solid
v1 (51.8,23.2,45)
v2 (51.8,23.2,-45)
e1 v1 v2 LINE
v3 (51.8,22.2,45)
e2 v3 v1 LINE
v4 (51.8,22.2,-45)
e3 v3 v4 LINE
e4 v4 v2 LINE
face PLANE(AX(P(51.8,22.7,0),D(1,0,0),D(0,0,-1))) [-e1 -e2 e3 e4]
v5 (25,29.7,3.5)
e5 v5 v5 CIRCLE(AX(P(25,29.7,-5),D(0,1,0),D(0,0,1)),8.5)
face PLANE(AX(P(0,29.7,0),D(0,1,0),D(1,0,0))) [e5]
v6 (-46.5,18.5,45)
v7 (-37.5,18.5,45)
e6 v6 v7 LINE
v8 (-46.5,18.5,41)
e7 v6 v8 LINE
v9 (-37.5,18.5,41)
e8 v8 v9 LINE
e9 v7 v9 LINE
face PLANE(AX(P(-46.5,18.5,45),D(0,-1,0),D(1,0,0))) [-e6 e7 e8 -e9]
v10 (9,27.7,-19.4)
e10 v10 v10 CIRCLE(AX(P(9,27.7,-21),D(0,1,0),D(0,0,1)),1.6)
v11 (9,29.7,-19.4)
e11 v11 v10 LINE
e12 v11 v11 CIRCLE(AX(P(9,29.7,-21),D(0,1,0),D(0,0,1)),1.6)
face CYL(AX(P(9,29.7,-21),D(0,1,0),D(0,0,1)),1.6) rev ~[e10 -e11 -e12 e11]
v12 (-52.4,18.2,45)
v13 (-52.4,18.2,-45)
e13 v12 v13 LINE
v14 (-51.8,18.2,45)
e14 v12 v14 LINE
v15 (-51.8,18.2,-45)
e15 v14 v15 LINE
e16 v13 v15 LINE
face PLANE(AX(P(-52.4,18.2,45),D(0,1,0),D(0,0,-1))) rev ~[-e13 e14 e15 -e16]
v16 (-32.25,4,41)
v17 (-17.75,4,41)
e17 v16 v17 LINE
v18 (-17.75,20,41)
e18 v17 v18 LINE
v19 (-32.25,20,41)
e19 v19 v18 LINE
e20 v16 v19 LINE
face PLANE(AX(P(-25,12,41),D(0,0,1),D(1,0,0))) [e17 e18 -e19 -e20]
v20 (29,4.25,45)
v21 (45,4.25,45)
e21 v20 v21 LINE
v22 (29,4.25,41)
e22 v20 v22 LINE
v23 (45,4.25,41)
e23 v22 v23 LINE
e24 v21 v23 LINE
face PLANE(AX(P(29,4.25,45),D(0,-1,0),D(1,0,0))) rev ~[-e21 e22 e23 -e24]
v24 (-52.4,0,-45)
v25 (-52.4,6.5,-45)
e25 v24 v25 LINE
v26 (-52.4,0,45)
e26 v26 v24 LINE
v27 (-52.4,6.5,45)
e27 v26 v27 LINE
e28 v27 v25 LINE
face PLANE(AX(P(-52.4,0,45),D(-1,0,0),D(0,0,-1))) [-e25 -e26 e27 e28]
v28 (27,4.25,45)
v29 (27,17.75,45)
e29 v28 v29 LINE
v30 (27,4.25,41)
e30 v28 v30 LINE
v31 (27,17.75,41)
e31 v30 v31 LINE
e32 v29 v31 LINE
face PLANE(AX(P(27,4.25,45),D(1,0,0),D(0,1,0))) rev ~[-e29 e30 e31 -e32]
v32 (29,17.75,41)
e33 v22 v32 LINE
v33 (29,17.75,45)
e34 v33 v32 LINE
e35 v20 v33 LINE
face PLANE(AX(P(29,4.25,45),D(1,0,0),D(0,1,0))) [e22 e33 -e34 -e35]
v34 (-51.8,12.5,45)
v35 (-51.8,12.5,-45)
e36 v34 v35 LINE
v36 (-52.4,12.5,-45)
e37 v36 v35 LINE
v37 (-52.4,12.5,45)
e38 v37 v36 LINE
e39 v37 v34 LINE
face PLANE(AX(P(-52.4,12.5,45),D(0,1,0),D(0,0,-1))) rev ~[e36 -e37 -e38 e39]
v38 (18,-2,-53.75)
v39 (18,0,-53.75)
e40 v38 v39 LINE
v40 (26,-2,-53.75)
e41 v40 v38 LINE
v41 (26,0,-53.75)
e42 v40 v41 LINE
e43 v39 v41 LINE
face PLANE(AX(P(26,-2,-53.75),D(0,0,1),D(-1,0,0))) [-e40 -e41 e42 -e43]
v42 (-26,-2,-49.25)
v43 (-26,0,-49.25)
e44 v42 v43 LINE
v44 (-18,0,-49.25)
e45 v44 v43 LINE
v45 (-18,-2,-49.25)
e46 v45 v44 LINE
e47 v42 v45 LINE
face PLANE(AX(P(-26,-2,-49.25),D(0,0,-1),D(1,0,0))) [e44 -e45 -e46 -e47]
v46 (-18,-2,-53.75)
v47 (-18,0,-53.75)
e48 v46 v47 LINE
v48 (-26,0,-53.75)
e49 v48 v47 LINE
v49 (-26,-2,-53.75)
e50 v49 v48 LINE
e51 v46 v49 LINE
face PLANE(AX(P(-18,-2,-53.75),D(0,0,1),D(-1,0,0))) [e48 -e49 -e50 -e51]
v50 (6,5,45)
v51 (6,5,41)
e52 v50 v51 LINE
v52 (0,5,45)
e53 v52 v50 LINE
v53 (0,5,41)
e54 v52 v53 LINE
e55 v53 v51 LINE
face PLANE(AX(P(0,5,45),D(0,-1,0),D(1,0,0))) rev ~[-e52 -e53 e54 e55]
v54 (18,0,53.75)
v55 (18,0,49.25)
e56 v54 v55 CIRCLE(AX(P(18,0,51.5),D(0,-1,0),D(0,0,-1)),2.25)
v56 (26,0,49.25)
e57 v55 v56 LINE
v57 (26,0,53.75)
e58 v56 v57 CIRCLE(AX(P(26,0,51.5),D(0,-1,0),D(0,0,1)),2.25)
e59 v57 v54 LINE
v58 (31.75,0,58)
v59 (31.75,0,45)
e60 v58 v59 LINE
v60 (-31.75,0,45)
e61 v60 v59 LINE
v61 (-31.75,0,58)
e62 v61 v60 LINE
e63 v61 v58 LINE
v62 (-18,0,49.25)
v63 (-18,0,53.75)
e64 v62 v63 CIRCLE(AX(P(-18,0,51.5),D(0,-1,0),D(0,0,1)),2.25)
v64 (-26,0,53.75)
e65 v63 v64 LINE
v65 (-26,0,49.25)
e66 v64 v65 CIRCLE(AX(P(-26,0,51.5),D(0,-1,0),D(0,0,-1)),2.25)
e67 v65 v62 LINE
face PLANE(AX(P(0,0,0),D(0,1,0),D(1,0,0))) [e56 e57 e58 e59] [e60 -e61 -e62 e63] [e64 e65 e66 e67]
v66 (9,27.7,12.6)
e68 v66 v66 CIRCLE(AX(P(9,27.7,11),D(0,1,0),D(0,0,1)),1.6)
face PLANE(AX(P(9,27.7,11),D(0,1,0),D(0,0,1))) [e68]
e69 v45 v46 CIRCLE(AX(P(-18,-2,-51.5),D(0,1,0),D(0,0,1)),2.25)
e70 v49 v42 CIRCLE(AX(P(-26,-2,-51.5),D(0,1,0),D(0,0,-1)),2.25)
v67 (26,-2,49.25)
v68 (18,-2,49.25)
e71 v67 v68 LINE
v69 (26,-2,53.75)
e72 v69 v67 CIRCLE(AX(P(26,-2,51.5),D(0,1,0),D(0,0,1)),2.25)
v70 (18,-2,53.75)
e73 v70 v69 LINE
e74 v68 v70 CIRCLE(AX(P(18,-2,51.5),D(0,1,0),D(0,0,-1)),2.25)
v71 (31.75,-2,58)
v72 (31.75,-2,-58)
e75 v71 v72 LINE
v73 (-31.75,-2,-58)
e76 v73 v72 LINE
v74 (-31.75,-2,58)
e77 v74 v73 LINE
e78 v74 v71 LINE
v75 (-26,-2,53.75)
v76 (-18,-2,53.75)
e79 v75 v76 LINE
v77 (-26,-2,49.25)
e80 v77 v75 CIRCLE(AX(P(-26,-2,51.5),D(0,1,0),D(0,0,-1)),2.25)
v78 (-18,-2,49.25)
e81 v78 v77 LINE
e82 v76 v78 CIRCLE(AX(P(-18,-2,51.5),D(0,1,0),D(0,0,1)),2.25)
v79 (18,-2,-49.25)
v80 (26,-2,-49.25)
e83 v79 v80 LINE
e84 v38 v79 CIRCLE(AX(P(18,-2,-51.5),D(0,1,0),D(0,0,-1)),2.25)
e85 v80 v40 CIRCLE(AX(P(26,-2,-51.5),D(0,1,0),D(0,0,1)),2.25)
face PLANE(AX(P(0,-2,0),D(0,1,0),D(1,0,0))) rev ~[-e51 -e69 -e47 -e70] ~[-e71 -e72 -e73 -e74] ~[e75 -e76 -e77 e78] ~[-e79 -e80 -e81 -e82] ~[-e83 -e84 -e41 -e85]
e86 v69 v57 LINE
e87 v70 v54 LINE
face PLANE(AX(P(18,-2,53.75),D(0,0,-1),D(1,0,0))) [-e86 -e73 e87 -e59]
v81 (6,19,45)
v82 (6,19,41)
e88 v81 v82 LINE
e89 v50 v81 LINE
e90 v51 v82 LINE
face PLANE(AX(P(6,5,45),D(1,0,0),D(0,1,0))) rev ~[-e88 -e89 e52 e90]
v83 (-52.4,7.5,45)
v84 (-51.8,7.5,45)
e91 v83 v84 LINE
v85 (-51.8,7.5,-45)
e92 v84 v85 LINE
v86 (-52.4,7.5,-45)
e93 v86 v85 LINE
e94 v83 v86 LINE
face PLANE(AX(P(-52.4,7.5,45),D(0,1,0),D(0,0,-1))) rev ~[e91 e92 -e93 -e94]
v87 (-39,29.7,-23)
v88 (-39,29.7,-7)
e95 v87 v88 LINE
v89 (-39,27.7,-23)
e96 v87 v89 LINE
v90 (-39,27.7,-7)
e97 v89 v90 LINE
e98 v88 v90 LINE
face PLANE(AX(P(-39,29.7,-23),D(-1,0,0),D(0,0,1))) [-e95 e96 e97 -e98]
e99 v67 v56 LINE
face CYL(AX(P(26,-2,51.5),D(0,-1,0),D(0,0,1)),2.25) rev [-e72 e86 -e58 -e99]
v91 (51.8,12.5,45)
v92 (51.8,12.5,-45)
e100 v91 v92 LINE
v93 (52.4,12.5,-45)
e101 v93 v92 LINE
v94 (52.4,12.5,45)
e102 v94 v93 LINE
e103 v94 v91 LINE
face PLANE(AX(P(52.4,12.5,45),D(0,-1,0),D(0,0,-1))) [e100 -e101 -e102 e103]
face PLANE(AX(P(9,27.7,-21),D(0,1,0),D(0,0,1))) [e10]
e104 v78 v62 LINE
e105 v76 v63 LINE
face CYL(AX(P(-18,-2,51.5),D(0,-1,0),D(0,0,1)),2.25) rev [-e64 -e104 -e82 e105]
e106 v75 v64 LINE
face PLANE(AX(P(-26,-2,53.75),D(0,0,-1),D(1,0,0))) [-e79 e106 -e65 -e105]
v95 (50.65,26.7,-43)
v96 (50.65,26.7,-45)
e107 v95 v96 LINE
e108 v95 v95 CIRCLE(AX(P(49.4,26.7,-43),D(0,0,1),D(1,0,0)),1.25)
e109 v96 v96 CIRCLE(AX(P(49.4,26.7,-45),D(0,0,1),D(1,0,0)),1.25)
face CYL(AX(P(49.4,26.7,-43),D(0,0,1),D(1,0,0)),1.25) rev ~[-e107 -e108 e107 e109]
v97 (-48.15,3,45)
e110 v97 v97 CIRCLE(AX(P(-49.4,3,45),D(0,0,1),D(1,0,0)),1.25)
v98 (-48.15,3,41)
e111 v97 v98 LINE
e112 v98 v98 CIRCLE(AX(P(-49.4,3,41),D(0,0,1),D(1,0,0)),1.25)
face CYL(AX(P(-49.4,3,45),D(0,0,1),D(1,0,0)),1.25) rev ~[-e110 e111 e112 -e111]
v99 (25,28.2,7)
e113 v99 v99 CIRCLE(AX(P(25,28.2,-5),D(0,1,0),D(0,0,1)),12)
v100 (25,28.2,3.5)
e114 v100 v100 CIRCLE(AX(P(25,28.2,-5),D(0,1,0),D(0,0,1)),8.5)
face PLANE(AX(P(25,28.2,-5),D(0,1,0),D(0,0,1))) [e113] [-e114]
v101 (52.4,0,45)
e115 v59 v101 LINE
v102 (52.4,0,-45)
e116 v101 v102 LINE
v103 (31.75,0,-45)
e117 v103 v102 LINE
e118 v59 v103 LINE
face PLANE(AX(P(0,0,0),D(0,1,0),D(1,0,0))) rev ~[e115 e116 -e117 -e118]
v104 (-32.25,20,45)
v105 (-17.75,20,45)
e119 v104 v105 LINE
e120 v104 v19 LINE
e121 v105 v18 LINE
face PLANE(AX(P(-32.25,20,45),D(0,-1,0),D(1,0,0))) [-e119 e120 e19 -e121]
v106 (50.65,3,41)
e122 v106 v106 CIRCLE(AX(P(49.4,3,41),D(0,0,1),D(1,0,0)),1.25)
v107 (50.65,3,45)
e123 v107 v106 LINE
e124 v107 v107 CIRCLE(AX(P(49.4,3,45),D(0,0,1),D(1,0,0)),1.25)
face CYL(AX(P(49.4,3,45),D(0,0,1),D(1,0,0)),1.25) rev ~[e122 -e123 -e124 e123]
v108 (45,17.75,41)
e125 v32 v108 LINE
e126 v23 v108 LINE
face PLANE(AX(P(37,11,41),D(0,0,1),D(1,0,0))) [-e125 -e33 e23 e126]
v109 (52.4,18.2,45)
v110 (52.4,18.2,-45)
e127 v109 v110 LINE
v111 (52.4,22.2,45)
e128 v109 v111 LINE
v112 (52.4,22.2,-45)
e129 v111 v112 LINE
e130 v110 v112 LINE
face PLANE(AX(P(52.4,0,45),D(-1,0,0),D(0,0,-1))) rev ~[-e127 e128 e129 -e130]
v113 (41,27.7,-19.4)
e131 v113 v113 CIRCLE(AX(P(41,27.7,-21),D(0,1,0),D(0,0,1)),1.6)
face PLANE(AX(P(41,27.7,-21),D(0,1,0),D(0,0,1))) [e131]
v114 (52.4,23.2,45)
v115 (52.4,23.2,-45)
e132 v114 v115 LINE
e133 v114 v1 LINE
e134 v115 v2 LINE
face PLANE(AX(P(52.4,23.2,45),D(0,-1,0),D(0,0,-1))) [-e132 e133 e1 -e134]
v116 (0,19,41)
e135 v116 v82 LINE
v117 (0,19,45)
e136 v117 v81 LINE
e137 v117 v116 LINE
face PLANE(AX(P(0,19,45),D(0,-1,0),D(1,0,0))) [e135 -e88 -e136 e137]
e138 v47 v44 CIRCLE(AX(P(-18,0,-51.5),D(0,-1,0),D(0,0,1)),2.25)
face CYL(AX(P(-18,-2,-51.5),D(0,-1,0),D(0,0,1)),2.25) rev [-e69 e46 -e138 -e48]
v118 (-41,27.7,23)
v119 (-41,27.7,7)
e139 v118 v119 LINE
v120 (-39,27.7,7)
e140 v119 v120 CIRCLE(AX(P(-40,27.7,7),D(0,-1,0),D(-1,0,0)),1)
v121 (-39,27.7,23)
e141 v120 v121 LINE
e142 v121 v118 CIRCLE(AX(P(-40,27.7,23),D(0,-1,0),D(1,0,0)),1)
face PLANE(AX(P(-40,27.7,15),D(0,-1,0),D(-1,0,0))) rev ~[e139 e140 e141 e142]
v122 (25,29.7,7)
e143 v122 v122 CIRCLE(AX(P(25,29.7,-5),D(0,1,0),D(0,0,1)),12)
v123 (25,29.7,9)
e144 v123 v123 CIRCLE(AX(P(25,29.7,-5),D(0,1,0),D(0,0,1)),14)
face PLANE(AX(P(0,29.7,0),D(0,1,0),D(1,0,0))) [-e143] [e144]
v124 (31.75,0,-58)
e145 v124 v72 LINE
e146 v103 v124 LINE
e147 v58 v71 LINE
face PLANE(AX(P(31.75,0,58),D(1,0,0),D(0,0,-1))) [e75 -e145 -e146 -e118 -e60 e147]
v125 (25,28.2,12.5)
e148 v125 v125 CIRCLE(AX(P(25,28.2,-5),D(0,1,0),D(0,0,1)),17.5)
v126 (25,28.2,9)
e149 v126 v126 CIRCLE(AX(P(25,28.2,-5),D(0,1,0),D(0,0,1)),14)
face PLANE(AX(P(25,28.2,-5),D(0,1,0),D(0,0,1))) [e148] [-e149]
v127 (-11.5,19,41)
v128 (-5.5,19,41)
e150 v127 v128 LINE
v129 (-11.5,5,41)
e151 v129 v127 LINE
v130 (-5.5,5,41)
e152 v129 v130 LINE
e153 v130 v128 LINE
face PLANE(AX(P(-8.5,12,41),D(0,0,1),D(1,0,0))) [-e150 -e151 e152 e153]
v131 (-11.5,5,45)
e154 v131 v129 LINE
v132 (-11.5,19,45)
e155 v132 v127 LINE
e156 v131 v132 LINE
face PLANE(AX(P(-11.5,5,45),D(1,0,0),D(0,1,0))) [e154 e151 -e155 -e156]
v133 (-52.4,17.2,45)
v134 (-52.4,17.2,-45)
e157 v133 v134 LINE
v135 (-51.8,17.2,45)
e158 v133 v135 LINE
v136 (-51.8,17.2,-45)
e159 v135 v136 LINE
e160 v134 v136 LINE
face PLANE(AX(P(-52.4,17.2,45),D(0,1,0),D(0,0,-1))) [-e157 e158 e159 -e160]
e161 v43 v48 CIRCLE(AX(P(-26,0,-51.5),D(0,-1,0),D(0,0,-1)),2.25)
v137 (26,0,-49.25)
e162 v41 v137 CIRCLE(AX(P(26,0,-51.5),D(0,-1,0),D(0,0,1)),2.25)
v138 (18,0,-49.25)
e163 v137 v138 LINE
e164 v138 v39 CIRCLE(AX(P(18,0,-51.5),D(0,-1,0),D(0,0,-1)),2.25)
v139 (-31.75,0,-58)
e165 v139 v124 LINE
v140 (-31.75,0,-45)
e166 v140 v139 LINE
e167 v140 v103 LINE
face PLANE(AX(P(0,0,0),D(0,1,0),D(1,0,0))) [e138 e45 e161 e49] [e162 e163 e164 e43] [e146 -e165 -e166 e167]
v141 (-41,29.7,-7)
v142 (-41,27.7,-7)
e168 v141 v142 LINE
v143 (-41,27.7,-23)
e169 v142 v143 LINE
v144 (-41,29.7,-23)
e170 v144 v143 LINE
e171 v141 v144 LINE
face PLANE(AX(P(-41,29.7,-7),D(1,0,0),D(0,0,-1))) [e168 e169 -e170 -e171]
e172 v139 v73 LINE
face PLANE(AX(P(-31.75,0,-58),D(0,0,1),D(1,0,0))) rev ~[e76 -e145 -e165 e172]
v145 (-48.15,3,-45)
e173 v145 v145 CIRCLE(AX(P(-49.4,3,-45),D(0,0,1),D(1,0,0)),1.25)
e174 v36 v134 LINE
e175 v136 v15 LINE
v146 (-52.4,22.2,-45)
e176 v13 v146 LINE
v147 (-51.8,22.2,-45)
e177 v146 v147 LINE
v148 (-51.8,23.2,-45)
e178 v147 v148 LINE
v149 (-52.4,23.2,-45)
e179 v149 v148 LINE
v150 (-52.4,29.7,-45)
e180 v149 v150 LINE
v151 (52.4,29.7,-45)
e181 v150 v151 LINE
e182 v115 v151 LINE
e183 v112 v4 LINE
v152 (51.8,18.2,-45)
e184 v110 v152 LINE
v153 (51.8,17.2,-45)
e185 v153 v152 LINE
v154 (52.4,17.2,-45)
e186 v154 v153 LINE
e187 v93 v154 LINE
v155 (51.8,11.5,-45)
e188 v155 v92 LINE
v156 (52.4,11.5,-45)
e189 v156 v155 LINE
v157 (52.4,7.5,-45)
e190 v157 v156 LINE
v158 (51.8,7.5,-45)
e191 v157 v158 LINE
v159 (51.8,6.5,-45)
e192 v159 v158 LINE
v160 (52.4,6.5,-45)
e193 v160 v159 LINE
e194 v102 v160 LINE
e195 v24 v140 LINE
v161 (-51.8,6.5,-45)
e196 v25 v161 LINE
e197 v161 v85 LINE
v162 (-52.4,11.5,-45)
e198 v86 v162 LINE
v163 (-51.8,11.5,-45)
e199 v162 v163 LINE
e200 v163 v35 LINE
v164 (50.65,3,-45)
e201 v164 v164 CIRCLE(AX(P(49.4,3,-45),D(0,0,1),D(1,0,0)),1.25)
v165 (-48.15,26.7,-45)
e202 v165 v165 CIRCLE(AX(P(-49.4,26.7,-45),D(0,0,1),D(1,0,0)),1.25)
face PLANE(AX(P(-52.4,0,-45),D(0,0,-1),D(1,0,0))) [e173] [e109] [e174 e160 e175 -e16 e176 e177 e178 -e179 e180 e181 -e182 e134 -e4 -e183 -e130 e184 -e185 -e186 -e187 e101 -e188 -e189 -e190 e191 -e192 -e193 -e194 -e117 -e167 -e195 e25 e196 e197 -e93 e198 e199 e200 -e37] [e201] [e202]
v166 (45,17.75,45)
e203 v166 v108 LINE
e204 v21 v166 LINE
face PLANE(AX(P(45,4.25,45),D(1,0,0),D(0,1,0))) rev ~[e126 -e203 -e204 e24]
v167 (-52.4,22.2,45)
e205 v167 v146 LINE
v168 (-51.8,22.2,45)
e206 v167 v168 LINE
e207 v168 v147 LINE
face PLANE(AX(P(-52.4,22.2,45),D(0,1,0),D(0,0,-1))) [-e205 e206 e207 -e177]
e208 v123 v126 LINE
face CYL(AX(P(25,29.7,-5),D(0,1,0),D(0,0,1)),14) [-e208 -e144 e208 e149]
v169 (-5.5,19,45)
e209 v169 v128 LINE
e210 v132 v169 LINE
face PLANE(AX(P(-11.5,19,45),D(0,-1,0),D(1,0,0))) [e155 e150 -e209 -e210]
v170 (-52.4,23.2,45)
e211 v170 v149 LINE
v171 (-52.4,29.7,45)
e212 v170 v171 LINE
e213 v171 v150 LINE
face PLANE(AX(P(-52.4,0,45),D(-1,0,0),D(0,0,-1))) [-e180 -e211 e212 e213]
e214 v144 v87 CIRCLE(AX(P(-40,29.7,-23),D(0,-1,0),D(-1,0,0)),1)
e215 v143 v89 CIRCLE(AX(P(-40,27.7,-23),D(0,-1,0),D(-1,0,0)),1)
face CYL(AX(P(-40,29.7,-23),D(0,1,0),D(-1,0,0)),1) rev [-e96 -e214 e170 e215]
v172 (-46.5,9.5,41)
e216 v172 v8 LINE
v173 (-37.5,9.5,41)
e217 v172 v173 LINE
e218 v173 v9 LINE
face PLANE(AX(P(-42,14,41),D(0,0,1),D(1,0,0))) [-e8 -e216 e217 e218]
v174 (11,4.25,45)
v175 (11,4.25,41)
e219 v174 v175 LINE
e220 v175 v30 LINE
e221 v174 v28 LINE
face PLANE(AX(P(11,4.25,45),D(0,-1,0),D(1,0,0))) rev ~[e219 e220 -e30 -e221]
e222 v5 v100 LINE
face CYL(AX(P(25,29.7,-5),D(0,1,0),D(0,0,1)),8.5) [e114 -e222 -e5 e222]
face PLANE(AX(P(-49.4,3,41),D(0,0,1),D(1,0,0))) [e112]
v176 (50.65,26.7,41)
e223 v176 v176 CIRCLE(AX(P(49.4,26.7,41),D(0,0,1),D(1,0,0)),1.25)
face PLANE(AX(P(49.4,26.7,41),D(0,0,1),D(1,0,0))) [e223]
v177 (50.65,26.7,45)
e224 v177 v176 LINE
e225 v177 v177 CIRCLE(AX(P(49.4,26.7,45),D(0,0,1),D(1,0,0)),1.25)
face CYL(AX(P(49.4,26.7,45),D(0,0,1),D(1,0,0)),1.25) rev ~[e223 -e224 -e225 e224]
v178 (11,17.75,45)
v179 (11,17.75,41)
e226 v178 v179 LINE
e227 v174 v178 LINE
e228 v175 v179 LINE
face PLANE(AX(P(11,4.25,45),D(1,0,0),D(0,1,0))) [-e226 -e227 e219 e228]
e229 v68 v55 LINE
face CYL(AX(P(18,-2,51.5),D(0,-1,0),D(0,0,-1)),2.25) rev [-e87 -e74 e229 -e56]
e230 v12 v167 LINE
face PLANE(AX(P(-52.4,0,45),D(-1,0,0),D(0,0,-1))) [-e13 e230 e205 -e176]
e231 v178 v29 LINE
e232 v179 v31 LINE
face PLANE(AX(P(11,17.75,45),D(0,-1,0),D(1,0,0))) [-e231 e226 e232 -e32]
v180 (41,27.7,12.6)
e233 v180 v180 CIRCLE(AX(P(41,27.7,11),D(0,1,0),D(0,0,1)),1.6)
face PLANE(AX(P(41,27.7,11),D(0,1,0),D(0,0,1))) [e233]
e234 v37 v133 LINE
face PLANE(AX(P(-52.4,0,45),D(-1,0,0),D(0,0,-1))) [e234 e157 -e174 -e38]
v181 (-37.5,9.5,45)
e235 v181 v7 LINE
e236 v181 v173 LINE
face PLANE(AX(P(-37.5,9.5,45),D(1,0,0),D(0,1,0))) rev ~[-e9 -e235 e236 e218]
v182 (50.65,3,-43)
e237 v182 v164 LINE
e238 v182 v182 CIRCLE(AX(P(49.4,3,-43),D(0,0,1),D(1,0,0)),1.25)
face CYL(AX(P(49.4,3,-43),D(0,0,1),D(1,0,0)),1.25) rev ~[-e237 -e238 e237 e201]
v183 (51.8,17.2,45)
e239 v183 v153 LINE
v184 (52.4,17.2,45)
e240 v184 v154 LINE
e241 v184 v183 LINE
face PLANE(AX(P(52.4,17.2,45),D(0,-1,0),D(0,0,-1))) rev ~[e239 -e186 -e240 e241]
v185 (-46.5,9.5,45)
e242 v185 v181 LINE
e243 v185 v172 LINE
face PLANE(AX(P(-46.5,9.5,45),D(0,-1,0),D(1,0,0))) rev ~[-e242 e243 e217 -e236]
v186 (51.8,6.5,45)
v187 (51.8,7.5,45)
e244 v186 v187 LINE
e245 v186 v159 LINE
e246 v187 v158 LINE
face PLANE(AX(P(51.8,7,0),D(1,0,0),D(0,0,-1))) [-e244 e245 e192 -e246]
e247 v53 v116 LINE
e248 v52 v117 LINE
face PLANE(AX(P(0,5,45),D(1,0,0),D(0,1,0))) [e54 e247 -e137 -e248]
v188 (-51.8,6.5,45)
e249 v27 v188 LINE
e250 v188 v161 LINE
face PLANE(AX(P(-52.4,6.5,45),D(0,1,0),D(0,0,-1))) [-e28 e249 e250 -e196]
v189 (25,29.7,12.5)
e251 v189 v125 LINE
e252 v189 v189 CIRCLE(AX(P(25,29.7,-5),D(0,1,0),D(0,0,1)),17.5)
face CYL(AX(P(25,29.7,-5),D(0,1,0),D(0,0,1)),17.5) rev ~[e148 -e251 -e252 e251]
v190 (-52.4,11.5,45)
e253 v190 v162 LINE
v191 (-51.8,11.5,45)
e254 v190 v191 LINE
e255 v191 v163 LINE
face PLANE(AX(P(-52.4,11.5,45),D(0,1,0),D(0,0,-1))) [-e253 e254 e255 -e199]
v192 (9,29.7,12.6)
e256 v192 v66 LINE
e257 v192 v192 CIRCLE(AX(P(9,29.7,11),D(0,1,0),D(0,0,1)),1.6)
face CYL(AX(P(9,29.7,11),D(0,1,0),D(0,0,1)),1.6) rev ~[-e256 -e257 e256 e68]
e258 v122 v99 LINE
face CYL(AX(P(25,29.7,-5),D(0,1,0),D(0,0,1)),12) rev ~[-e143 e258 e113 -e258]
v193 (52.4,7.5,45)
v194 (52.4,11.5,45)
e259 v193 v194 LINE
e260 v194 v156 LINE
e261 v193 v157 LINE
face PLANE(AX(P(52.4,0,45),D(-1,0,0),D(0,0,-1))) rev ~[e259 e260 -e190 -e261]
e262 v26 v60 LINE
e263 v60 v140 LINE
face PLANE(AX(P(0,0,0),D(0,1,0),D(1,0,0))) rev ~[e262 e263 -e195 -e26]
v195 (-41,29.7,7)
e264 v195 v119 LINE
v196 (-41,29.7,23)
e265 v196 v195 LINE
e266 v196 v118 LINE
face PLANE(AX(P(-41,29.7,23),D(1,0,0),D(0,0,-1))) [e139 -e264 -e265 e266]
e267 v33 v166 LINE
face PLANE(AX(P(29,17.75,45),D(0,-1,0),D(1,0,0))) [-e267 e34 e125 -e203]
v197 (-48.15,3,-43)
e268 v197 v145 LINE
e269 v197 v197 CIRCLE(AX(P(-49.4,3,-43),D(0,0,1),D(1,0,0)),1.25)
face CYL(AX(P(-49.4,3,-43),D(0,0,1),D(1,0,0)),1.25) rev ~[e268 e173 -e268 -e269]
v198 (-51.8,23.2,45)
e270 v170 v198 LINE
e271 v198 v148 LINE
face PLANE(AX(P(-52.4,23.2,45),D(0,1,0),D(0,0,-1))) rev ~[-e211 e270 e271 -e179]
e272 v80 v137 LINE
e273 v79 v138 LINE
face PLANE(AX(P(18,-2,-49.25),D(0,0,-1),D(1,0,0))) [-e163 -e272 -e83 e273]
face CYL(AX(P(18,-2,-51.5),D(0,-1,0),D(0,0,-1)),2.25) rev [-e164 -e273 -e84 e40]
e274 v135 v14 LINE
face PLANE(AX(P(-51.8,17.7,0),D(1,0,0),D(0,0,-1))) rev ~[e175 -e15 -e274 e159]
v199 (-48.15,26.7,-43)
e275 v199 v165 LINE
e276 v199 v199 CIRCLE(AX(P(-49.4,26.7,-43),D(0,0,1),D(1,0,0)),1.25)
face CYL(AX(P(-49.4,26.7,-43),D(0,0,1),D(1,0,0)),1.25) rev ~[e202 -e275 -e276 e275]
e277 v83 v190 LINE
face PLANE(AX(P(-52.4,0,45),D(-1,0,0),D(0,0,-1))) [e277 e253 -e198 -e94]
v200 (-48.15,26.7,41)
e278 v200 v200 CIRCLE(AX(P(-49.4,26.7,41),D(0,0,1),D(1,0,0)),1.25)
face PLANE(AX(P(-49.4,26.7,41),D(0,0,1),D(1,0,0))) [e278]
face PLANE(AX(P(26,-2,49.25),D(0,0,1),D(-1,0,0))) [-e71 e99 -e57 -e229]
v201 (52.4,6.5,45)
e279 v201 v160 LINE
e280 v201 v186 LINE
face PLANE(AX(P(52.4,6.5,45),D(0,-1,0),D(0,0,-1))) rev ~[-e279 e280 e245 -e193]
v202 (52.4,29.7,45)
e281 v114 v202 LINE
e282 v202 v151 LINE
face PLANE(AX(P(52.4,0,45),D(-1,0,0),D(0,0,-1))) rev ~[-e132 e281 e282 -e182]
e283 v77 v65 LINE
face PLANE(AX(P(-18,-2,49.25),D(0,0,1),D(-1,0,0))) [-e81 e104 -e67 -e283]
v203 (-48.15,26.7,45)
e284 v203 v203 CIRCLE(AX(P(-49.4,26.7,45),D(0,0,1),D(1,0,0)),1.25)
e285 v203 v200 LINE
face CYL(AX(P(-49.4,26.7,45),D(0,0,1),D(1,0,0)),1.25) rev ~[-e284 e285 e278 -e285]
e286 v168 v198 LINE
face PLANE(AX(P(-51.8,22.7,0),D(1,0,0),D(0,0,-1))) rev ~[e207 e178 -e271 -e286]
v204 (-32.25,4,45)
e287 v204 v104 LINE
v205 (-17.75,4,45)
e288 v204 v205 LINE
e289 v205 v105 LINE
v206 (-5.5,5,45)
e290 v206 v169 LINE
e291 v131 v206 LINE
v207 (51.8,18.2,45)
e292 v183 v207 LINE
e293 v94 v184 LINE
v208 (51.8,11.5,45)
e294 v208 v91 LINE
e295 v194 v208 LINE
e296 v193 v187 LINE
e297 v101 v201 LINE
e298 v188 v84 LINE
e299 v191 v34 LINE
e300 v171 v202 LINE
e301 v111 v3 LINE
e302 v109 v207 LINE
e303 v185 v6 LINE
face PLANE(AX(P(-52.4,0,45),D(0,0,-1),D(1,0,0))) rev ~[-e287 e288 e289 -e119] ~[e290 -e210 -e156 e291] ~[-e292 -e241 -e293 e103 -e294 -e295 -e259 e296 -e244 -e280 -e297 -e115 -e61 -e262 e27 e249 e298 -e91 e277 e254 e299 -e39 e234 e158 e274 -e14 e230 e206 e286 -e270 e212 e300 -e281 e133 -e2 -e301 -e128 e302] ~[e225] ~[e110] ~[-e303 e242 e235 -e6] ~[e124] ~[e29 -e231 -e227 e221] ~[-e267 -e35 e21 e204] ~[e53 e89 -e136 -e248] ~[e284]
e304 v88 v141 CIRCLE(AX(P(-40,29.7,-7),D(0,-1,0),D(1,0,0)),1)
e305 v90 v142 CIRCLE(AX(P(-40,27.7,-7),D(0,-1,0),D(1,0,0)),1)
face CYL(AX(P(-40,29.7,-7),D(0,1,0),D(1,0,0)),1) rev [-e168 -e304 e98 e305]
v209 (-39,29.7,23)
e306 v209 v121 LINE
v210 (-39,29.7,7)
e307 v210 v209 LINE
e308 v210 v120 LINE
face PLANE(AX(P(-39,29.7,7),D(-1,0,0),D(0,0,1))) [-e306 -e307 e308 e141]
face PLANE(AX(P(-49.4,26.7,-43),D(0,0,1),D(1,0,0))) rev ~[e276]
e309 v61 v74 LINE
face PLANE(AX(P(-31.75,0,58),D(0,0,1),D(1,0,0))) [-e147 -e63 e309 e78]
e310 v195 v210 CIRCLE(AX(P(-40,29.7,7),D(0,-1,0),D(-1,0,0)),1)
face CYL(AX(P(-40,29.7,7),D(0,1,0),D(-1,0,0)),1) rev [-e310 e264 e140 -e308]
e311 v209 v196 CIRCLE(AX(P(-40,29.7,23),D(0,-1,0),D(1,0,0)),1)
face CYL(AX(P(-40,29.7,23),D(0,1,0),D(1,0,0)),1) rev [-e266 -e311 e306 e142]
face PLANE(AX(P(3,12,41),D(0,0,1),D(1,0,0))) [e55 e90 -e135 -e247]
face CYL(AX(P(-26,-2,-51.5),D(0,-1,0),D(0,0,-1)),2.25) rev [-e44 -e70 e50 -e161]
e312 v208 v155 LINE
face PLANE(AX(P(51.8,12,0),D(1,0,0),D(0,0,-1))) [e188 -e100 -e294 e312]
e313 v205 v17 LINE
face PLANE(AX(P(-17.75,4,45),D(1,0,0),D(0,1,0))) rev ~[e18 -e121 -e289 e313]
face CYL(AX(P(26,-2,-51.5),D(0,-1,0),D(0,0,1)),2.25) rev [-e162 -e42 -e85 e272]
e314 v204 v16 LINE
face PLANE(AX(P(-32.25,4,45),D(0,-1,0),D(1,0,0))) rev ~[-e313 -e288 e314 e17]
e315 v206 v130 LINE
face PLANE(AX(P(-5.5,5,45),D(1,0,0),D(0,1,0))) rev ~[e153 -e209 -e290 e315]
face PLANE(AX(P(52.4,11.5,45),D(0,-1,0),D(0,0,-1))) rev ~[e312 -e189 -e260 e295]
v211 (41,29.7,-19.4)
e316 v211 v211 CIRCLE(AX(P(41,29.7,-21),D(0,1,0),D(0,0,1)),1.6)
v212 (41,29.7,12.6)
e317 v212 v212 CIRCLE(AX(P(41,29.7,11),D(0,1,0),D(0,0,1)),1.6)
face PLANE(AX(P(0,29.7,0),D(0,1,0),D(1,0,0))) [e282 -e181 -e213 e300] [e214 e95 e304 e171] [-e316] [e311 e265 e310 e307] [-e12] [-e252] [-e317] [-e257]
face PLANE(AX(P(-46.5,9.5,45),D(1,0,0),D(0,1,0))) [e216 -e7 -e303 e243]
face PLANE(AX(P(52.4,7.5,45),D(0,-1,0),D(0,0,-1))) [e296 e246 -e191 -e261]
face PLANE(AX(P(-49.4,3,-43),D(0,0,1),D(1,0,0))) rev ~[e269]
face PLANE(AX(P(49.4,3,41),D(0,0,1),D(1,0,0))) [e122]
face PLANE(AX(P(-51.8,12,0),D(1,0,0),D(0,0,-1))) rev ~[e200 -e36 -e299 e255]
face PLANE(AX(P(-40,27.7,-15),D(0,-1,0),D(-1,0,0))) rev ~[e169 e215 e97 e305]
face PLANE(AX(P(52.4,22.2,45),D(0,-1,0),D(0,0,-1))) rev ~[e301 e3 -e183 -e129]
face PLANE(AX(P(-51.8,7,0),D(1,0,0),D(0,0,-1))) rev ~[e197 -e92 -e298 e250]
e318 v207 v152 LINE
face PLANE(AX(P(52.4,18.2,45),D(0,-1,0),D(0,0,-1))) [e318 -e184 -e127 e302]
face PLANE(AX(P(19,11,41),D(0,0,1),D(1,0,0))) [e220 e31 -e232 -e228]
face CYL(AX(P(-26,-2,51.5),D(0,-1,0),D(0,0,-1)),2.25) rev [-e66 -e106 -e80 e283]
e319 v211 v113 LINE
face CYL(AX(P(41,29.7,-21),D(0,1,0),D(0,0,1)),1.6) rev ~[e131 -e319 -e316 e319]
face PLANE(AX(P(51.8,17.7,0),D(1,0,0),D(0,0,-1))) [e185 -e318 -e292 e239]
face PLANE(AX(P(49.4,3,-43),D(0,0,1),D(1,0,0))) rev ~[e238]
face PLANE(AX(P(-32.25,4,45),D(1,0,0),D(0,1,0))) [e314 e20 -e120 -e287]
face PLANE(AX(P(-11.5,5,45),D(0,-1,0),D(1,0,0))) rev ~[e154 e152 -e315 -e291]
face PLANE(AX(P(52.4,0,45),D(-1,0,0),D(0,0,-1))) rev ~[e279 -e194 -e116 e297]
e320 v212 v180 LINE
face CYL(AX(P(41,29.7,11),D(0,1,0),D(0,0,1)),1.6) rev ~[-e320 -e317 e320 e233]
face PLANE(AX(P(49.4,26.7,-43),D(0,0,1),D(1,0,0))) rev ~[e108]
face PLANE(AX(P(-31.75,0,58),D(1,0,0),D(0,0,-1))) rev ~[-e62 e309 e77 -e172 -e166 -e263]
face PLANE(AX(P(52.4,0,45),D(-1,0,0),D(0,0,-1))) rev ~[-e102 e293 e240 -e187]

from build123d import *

# Parameters (mm, degrees)
SKETCH1_W           = 104.8
SKETCH1_H           = 90
BOSS_EXTRUDE1_DEPTH = 29.7
SKETCH2_W           = 63.5
SKETCH2_H           = 116
BOSS_EXTRUDE2_DEPTH = 2
CUT_EXTRUDE1_DEPTH  = 3
SKETCH4_R           = 1.25
SKETCH4_W           = 9
SKETCH4_H           = 9
SKETCH4_W_2         = 14.5
SKETCH4_H_2         = 16
SKETCH4_W_3         = 6
SKETCH4_H_3         = 14
SKETCH4_W_4         = 16
SKETCH4_H_4         = 13.5
CUT_EXTRUDE2_DEPTH  = 4
CUT_EXTRUDE4_START  = 2
SKETCH5_R           = 1.25
CUT_EXTRUDE4_DEPTH  = 2
SKETCH6_R           = 17.5
SKETCH6_R_2         = 14
CUT_EXTRUDE5_DEPTH  = 1.5
SKETCH7_R           = 12
SKETCH7_R_2         = 8.5
CUT_EXTRUDE6_DEPTH  = 1.5
SKETCH8_R           = 1.6
CUT_EXTRUDE7_DEPTH  = 2
SKETCH9_W           = 90
SKETCH9_H           = 1
CUT_EXTRUDE8_DEPTH  = 0.6
SKETCH10_W          = 90
SKETCH10_H          = 1
CUT_EXTRUDE10_DEPTH = 0.6


with BuildPart() as part:
    # Sketch1 → Boss-Extrude1 (new body)
    with BuildSketch(Plane(origin=(0, 0, 0), x_dir=(1, 0, 0), z_dir=(0, 1, 0))):
        Rectangle(SKETCH1_W, SKETCH1_H)
    extrude(amount=BOSS_EXTRUDE1_DEPTH)

    # Sketch2 → Boss-Extrude2 (add)
    with BuildSketch(Plane(origin=(0, 0, 0), x_dir=(1, 0, 0), z_dir=(0, 1, 0))):
        Rectangle(SKETCH2_W, SKETCH2_H)
    extrude(amount=-BOSS_EXTRUDE2_DEPTH)

    # Sketch3 → Cut-Extrude1 (cut)
    with BuildSketch(Plane.XZ.offset(2)):
        with BuildLine():
            Line((18, 53.75), (26, 53.75))
            ThreePointArc((26, 53.75), (28.25, 51.5), (26, 49.25))
            Line((26, 49.25), (18, 49.25))
            ThreePointArc((18, 49.25), (15.75, 51.5), (18, 53.75))
        make_face()
        with BuildLine():
            Line((-26, 53.75), (-18, 53.75))
            ThreePointArc((-18, 53.75), (-15.75, 51.5), (-18, 49.25))
            Line((-18, 49.25), (-26, 49.25))
            ThreePointArc((-26, 49.25), (-28.25, 51.5), (-26, 53.75))
        make_face()
        with BuildLine():
            Line((18, -49.25), (26, -49.25))
            ThreePointArc((26, -49.25), (28.25, -51.5), (26, -53.75))
            Line((26, -53.75), (18, -53.75))
            ThreePointArc((18, -53.75), (15.75, -51.5), (18, -49.25))
        make_face()
        with BuildLine():
            Line((-26, -49.25), (-18, -49.25))
            ThreePointArc((-18, -49.25), (-15.75, -51.5), (-18, -53.75))
            Line((-18, -53.75), (-26, -53.75))
            ThreePointArc((-26, -53.75), (-28.25, -51.5), (-26, -49.25))
        make_face()
    extrude(amount=-CUT_EXTRUDE1_DEPTH, mode=Mode.SUBTRACT)

    # Sketch4 → Cut-Extrude2 (cut)
    with BuildSketch(Plane.XY.offset(45)):
        with Locations((49.4, 3)):
            Circle(SKETCH4_R)
        with Locations((49.4, 26.7)):
            Circle(SKETCH4_R)
        with Locations((-49.4, 3)):
            Circle(SKETCH4_R)
        with Locations((-49.4, 26.7)):
            Circle(SKETCH4_R)
        with Locations((-42, 14)):
            Rectangle(SKETCH4_W, SKETCH4_H)
        with Locations((-25, 12)):
            Rectangle(SKETCH4_W_2, SKETCH4_H_2)
        with Locations((-8.5, 12)):
            Rectangle(SKETCH4_W_3, SKETCH4_H_3)
        with Locations((3, 12)):
            Rectangle(SKETCH4_W_3, SKETCH4_H_3)
        with Locations((19, 11)):
            Rectangle(SKETCH4_W_4, SKETCH4_H_4)
        with Locations((37, 11)):
            Rectangle(SKETCH4_W_4, SKETCH4_H_4)
    extrude(amount=-CUT_EXTRUDE2_DEPTH, mode=Mode.SUBTRACT)

    # Sketch5 → Cut-Extrude4 (cut)
    with BuildSketch(Plane.XY.offset(-45).offset(CUT_EXTRUDE4_START)):
        with Locations((49.4, 3)):
            Circle(SKETCH5_R)
        with Locations((49.4, 26.7)):
            Circle(SKETCH5_R)
        with Locations((-49.4, 3)):
            Circle(SKETCH5_R)
        with Locations((-49.4, 26.7)):
            Circle(SKETCH5_R)
    extrude(amount=-CUT_EXTRUDE4_DEPTH, mode=Mode.SUBTRACT)

    # Sketch6 → Cut-Extrude5 (cut)
    with BuildSketch(Plane(origin=(0, 29.7, 0), x_dir=(1, 0, 0), z_dir=(0, 1, 0))):
        with Locations(Location((25, 5, 0), (0, 0, 270))):
            Circle(SKETCH6_R)
        with Locations(Location((25, 5, 0), (0, 0, 270))):
            Circle(SKETCH6_R_2, mode=Mode.SUBTRACT)
    extrude(amount=-CUT_EXTRUDE5_DEPTH, mode=Mode.SUBTRACT)

    # Sketch7 → Cut-Extrude6 (cut)
    with BuildSketch(Plane(origin=(0, 29.7, 0), x_dir=(1, 0, 0), z_dir=(0, 1, 0))):
        with Locations(Location((25, 5, 0), (0, 0, 270))):
            Circle(SKETCH7_R)
        with Locations(Location((25, 5, 0), (0, 0, 270))):
            Circle(SKETCH7_R_2, mode=Mode.SUBTRACT)
    extrude(amount=-CUT_EXTRUDE6_DEPTH, mode=Mode.SUBTRACT)

    # Sketch8 → Cut-Extrude7 (cut)
    with BuildSketch(Plane(origin=(0, 29.7, 0), x_dir=(1, 0, 0), z_dir=(0, 1, 0))):
        with Locations(Location((41, -11, 0), (0, 0, 270))):
            Circle(SKETCH8_R)
        with Locations(Location((41, 21, 0), (0, 0, 270))):
            Circle(SKETCH8_R)
        with Locations(Location((9, -11, 0), (0, 0, 270))):
            Circle(SKETCH8_R)
        with Locations(Location((9, 21, 0), (0, 0, 270))):
            Circle(SKETCH8_R)
        with BuildLine():
            Line((-39, -7), (-39, -23))
            ThreePointArc((-39, -23), (-40, -24), (-41, -23))
            Line((-41, -23), (-41, -7))
            ThreePointArc((-41, -7), (-40, -6), (-39, -7))
        make_face()
        with BuildLine():
            Line((-39, 23), (-39, 7))
            ThreePointArc((-39, 7), (-40, 6), (-41, 7))
            Line((-41, 7), (-41, 23))
            ThreePointArc((-41, 23), (-40, 24), (-39, 23))
        make_face()
    extrude(amount=-CUT_EXTRUDE7_DEPTH, mode=Mode.SUBTRACT)

    # Sketch9 → Cut-Extrude8 (cut)
    with BuildSketch(Plane(origin=(52.4, 0, 0), x_dir=(0, 0, -1), z_dir=(1, 0, 0))):
        with Locations((0, 7)):
            Rectangle(SKETCH9_W, SKETCH9_H)
        with Locations((0, 12)):
            Rectangle(SKETCH9_W, SKETCH9_H)
        with Locations((0, 17.7)):
            Rectangle(SKETCH9_W, SKETCH9_H)
        with Locations((0, 22.7)):
            Rectangle(SKETCH9_W, SKETCH9_H)
    extrude(amount=-CUT_EXTRUDE8_DEPTH, mode=Mode.SUBTRACT)

    # Sketch10 → Cut-Extrude10 (cut)
    with BuildSketch(Plane(origin=(-52.4, 0, 0), x_dir=(0, 0, -1), z_dir=(1, 0, 0))):
        with Locations((0, 7)):
            Rectangle(SKETCH10_W, SKETCH10_H)
        with Locations((0, 12)):
            Rectangle(SKETCH10_W, SKETCH10_H)
        with Locations((0, 17.7)):
            Rectangle(SKETCH10_W, SKETCH10_H)
        with Locations((0, 22.7)):
            Rectangle(SKETCH10_W, SKETCH10_H)
    extrude(amount=CUT_EXTRUDE10_DEPTH, mode=Mode.SUBTRACT)


solid = part.part
